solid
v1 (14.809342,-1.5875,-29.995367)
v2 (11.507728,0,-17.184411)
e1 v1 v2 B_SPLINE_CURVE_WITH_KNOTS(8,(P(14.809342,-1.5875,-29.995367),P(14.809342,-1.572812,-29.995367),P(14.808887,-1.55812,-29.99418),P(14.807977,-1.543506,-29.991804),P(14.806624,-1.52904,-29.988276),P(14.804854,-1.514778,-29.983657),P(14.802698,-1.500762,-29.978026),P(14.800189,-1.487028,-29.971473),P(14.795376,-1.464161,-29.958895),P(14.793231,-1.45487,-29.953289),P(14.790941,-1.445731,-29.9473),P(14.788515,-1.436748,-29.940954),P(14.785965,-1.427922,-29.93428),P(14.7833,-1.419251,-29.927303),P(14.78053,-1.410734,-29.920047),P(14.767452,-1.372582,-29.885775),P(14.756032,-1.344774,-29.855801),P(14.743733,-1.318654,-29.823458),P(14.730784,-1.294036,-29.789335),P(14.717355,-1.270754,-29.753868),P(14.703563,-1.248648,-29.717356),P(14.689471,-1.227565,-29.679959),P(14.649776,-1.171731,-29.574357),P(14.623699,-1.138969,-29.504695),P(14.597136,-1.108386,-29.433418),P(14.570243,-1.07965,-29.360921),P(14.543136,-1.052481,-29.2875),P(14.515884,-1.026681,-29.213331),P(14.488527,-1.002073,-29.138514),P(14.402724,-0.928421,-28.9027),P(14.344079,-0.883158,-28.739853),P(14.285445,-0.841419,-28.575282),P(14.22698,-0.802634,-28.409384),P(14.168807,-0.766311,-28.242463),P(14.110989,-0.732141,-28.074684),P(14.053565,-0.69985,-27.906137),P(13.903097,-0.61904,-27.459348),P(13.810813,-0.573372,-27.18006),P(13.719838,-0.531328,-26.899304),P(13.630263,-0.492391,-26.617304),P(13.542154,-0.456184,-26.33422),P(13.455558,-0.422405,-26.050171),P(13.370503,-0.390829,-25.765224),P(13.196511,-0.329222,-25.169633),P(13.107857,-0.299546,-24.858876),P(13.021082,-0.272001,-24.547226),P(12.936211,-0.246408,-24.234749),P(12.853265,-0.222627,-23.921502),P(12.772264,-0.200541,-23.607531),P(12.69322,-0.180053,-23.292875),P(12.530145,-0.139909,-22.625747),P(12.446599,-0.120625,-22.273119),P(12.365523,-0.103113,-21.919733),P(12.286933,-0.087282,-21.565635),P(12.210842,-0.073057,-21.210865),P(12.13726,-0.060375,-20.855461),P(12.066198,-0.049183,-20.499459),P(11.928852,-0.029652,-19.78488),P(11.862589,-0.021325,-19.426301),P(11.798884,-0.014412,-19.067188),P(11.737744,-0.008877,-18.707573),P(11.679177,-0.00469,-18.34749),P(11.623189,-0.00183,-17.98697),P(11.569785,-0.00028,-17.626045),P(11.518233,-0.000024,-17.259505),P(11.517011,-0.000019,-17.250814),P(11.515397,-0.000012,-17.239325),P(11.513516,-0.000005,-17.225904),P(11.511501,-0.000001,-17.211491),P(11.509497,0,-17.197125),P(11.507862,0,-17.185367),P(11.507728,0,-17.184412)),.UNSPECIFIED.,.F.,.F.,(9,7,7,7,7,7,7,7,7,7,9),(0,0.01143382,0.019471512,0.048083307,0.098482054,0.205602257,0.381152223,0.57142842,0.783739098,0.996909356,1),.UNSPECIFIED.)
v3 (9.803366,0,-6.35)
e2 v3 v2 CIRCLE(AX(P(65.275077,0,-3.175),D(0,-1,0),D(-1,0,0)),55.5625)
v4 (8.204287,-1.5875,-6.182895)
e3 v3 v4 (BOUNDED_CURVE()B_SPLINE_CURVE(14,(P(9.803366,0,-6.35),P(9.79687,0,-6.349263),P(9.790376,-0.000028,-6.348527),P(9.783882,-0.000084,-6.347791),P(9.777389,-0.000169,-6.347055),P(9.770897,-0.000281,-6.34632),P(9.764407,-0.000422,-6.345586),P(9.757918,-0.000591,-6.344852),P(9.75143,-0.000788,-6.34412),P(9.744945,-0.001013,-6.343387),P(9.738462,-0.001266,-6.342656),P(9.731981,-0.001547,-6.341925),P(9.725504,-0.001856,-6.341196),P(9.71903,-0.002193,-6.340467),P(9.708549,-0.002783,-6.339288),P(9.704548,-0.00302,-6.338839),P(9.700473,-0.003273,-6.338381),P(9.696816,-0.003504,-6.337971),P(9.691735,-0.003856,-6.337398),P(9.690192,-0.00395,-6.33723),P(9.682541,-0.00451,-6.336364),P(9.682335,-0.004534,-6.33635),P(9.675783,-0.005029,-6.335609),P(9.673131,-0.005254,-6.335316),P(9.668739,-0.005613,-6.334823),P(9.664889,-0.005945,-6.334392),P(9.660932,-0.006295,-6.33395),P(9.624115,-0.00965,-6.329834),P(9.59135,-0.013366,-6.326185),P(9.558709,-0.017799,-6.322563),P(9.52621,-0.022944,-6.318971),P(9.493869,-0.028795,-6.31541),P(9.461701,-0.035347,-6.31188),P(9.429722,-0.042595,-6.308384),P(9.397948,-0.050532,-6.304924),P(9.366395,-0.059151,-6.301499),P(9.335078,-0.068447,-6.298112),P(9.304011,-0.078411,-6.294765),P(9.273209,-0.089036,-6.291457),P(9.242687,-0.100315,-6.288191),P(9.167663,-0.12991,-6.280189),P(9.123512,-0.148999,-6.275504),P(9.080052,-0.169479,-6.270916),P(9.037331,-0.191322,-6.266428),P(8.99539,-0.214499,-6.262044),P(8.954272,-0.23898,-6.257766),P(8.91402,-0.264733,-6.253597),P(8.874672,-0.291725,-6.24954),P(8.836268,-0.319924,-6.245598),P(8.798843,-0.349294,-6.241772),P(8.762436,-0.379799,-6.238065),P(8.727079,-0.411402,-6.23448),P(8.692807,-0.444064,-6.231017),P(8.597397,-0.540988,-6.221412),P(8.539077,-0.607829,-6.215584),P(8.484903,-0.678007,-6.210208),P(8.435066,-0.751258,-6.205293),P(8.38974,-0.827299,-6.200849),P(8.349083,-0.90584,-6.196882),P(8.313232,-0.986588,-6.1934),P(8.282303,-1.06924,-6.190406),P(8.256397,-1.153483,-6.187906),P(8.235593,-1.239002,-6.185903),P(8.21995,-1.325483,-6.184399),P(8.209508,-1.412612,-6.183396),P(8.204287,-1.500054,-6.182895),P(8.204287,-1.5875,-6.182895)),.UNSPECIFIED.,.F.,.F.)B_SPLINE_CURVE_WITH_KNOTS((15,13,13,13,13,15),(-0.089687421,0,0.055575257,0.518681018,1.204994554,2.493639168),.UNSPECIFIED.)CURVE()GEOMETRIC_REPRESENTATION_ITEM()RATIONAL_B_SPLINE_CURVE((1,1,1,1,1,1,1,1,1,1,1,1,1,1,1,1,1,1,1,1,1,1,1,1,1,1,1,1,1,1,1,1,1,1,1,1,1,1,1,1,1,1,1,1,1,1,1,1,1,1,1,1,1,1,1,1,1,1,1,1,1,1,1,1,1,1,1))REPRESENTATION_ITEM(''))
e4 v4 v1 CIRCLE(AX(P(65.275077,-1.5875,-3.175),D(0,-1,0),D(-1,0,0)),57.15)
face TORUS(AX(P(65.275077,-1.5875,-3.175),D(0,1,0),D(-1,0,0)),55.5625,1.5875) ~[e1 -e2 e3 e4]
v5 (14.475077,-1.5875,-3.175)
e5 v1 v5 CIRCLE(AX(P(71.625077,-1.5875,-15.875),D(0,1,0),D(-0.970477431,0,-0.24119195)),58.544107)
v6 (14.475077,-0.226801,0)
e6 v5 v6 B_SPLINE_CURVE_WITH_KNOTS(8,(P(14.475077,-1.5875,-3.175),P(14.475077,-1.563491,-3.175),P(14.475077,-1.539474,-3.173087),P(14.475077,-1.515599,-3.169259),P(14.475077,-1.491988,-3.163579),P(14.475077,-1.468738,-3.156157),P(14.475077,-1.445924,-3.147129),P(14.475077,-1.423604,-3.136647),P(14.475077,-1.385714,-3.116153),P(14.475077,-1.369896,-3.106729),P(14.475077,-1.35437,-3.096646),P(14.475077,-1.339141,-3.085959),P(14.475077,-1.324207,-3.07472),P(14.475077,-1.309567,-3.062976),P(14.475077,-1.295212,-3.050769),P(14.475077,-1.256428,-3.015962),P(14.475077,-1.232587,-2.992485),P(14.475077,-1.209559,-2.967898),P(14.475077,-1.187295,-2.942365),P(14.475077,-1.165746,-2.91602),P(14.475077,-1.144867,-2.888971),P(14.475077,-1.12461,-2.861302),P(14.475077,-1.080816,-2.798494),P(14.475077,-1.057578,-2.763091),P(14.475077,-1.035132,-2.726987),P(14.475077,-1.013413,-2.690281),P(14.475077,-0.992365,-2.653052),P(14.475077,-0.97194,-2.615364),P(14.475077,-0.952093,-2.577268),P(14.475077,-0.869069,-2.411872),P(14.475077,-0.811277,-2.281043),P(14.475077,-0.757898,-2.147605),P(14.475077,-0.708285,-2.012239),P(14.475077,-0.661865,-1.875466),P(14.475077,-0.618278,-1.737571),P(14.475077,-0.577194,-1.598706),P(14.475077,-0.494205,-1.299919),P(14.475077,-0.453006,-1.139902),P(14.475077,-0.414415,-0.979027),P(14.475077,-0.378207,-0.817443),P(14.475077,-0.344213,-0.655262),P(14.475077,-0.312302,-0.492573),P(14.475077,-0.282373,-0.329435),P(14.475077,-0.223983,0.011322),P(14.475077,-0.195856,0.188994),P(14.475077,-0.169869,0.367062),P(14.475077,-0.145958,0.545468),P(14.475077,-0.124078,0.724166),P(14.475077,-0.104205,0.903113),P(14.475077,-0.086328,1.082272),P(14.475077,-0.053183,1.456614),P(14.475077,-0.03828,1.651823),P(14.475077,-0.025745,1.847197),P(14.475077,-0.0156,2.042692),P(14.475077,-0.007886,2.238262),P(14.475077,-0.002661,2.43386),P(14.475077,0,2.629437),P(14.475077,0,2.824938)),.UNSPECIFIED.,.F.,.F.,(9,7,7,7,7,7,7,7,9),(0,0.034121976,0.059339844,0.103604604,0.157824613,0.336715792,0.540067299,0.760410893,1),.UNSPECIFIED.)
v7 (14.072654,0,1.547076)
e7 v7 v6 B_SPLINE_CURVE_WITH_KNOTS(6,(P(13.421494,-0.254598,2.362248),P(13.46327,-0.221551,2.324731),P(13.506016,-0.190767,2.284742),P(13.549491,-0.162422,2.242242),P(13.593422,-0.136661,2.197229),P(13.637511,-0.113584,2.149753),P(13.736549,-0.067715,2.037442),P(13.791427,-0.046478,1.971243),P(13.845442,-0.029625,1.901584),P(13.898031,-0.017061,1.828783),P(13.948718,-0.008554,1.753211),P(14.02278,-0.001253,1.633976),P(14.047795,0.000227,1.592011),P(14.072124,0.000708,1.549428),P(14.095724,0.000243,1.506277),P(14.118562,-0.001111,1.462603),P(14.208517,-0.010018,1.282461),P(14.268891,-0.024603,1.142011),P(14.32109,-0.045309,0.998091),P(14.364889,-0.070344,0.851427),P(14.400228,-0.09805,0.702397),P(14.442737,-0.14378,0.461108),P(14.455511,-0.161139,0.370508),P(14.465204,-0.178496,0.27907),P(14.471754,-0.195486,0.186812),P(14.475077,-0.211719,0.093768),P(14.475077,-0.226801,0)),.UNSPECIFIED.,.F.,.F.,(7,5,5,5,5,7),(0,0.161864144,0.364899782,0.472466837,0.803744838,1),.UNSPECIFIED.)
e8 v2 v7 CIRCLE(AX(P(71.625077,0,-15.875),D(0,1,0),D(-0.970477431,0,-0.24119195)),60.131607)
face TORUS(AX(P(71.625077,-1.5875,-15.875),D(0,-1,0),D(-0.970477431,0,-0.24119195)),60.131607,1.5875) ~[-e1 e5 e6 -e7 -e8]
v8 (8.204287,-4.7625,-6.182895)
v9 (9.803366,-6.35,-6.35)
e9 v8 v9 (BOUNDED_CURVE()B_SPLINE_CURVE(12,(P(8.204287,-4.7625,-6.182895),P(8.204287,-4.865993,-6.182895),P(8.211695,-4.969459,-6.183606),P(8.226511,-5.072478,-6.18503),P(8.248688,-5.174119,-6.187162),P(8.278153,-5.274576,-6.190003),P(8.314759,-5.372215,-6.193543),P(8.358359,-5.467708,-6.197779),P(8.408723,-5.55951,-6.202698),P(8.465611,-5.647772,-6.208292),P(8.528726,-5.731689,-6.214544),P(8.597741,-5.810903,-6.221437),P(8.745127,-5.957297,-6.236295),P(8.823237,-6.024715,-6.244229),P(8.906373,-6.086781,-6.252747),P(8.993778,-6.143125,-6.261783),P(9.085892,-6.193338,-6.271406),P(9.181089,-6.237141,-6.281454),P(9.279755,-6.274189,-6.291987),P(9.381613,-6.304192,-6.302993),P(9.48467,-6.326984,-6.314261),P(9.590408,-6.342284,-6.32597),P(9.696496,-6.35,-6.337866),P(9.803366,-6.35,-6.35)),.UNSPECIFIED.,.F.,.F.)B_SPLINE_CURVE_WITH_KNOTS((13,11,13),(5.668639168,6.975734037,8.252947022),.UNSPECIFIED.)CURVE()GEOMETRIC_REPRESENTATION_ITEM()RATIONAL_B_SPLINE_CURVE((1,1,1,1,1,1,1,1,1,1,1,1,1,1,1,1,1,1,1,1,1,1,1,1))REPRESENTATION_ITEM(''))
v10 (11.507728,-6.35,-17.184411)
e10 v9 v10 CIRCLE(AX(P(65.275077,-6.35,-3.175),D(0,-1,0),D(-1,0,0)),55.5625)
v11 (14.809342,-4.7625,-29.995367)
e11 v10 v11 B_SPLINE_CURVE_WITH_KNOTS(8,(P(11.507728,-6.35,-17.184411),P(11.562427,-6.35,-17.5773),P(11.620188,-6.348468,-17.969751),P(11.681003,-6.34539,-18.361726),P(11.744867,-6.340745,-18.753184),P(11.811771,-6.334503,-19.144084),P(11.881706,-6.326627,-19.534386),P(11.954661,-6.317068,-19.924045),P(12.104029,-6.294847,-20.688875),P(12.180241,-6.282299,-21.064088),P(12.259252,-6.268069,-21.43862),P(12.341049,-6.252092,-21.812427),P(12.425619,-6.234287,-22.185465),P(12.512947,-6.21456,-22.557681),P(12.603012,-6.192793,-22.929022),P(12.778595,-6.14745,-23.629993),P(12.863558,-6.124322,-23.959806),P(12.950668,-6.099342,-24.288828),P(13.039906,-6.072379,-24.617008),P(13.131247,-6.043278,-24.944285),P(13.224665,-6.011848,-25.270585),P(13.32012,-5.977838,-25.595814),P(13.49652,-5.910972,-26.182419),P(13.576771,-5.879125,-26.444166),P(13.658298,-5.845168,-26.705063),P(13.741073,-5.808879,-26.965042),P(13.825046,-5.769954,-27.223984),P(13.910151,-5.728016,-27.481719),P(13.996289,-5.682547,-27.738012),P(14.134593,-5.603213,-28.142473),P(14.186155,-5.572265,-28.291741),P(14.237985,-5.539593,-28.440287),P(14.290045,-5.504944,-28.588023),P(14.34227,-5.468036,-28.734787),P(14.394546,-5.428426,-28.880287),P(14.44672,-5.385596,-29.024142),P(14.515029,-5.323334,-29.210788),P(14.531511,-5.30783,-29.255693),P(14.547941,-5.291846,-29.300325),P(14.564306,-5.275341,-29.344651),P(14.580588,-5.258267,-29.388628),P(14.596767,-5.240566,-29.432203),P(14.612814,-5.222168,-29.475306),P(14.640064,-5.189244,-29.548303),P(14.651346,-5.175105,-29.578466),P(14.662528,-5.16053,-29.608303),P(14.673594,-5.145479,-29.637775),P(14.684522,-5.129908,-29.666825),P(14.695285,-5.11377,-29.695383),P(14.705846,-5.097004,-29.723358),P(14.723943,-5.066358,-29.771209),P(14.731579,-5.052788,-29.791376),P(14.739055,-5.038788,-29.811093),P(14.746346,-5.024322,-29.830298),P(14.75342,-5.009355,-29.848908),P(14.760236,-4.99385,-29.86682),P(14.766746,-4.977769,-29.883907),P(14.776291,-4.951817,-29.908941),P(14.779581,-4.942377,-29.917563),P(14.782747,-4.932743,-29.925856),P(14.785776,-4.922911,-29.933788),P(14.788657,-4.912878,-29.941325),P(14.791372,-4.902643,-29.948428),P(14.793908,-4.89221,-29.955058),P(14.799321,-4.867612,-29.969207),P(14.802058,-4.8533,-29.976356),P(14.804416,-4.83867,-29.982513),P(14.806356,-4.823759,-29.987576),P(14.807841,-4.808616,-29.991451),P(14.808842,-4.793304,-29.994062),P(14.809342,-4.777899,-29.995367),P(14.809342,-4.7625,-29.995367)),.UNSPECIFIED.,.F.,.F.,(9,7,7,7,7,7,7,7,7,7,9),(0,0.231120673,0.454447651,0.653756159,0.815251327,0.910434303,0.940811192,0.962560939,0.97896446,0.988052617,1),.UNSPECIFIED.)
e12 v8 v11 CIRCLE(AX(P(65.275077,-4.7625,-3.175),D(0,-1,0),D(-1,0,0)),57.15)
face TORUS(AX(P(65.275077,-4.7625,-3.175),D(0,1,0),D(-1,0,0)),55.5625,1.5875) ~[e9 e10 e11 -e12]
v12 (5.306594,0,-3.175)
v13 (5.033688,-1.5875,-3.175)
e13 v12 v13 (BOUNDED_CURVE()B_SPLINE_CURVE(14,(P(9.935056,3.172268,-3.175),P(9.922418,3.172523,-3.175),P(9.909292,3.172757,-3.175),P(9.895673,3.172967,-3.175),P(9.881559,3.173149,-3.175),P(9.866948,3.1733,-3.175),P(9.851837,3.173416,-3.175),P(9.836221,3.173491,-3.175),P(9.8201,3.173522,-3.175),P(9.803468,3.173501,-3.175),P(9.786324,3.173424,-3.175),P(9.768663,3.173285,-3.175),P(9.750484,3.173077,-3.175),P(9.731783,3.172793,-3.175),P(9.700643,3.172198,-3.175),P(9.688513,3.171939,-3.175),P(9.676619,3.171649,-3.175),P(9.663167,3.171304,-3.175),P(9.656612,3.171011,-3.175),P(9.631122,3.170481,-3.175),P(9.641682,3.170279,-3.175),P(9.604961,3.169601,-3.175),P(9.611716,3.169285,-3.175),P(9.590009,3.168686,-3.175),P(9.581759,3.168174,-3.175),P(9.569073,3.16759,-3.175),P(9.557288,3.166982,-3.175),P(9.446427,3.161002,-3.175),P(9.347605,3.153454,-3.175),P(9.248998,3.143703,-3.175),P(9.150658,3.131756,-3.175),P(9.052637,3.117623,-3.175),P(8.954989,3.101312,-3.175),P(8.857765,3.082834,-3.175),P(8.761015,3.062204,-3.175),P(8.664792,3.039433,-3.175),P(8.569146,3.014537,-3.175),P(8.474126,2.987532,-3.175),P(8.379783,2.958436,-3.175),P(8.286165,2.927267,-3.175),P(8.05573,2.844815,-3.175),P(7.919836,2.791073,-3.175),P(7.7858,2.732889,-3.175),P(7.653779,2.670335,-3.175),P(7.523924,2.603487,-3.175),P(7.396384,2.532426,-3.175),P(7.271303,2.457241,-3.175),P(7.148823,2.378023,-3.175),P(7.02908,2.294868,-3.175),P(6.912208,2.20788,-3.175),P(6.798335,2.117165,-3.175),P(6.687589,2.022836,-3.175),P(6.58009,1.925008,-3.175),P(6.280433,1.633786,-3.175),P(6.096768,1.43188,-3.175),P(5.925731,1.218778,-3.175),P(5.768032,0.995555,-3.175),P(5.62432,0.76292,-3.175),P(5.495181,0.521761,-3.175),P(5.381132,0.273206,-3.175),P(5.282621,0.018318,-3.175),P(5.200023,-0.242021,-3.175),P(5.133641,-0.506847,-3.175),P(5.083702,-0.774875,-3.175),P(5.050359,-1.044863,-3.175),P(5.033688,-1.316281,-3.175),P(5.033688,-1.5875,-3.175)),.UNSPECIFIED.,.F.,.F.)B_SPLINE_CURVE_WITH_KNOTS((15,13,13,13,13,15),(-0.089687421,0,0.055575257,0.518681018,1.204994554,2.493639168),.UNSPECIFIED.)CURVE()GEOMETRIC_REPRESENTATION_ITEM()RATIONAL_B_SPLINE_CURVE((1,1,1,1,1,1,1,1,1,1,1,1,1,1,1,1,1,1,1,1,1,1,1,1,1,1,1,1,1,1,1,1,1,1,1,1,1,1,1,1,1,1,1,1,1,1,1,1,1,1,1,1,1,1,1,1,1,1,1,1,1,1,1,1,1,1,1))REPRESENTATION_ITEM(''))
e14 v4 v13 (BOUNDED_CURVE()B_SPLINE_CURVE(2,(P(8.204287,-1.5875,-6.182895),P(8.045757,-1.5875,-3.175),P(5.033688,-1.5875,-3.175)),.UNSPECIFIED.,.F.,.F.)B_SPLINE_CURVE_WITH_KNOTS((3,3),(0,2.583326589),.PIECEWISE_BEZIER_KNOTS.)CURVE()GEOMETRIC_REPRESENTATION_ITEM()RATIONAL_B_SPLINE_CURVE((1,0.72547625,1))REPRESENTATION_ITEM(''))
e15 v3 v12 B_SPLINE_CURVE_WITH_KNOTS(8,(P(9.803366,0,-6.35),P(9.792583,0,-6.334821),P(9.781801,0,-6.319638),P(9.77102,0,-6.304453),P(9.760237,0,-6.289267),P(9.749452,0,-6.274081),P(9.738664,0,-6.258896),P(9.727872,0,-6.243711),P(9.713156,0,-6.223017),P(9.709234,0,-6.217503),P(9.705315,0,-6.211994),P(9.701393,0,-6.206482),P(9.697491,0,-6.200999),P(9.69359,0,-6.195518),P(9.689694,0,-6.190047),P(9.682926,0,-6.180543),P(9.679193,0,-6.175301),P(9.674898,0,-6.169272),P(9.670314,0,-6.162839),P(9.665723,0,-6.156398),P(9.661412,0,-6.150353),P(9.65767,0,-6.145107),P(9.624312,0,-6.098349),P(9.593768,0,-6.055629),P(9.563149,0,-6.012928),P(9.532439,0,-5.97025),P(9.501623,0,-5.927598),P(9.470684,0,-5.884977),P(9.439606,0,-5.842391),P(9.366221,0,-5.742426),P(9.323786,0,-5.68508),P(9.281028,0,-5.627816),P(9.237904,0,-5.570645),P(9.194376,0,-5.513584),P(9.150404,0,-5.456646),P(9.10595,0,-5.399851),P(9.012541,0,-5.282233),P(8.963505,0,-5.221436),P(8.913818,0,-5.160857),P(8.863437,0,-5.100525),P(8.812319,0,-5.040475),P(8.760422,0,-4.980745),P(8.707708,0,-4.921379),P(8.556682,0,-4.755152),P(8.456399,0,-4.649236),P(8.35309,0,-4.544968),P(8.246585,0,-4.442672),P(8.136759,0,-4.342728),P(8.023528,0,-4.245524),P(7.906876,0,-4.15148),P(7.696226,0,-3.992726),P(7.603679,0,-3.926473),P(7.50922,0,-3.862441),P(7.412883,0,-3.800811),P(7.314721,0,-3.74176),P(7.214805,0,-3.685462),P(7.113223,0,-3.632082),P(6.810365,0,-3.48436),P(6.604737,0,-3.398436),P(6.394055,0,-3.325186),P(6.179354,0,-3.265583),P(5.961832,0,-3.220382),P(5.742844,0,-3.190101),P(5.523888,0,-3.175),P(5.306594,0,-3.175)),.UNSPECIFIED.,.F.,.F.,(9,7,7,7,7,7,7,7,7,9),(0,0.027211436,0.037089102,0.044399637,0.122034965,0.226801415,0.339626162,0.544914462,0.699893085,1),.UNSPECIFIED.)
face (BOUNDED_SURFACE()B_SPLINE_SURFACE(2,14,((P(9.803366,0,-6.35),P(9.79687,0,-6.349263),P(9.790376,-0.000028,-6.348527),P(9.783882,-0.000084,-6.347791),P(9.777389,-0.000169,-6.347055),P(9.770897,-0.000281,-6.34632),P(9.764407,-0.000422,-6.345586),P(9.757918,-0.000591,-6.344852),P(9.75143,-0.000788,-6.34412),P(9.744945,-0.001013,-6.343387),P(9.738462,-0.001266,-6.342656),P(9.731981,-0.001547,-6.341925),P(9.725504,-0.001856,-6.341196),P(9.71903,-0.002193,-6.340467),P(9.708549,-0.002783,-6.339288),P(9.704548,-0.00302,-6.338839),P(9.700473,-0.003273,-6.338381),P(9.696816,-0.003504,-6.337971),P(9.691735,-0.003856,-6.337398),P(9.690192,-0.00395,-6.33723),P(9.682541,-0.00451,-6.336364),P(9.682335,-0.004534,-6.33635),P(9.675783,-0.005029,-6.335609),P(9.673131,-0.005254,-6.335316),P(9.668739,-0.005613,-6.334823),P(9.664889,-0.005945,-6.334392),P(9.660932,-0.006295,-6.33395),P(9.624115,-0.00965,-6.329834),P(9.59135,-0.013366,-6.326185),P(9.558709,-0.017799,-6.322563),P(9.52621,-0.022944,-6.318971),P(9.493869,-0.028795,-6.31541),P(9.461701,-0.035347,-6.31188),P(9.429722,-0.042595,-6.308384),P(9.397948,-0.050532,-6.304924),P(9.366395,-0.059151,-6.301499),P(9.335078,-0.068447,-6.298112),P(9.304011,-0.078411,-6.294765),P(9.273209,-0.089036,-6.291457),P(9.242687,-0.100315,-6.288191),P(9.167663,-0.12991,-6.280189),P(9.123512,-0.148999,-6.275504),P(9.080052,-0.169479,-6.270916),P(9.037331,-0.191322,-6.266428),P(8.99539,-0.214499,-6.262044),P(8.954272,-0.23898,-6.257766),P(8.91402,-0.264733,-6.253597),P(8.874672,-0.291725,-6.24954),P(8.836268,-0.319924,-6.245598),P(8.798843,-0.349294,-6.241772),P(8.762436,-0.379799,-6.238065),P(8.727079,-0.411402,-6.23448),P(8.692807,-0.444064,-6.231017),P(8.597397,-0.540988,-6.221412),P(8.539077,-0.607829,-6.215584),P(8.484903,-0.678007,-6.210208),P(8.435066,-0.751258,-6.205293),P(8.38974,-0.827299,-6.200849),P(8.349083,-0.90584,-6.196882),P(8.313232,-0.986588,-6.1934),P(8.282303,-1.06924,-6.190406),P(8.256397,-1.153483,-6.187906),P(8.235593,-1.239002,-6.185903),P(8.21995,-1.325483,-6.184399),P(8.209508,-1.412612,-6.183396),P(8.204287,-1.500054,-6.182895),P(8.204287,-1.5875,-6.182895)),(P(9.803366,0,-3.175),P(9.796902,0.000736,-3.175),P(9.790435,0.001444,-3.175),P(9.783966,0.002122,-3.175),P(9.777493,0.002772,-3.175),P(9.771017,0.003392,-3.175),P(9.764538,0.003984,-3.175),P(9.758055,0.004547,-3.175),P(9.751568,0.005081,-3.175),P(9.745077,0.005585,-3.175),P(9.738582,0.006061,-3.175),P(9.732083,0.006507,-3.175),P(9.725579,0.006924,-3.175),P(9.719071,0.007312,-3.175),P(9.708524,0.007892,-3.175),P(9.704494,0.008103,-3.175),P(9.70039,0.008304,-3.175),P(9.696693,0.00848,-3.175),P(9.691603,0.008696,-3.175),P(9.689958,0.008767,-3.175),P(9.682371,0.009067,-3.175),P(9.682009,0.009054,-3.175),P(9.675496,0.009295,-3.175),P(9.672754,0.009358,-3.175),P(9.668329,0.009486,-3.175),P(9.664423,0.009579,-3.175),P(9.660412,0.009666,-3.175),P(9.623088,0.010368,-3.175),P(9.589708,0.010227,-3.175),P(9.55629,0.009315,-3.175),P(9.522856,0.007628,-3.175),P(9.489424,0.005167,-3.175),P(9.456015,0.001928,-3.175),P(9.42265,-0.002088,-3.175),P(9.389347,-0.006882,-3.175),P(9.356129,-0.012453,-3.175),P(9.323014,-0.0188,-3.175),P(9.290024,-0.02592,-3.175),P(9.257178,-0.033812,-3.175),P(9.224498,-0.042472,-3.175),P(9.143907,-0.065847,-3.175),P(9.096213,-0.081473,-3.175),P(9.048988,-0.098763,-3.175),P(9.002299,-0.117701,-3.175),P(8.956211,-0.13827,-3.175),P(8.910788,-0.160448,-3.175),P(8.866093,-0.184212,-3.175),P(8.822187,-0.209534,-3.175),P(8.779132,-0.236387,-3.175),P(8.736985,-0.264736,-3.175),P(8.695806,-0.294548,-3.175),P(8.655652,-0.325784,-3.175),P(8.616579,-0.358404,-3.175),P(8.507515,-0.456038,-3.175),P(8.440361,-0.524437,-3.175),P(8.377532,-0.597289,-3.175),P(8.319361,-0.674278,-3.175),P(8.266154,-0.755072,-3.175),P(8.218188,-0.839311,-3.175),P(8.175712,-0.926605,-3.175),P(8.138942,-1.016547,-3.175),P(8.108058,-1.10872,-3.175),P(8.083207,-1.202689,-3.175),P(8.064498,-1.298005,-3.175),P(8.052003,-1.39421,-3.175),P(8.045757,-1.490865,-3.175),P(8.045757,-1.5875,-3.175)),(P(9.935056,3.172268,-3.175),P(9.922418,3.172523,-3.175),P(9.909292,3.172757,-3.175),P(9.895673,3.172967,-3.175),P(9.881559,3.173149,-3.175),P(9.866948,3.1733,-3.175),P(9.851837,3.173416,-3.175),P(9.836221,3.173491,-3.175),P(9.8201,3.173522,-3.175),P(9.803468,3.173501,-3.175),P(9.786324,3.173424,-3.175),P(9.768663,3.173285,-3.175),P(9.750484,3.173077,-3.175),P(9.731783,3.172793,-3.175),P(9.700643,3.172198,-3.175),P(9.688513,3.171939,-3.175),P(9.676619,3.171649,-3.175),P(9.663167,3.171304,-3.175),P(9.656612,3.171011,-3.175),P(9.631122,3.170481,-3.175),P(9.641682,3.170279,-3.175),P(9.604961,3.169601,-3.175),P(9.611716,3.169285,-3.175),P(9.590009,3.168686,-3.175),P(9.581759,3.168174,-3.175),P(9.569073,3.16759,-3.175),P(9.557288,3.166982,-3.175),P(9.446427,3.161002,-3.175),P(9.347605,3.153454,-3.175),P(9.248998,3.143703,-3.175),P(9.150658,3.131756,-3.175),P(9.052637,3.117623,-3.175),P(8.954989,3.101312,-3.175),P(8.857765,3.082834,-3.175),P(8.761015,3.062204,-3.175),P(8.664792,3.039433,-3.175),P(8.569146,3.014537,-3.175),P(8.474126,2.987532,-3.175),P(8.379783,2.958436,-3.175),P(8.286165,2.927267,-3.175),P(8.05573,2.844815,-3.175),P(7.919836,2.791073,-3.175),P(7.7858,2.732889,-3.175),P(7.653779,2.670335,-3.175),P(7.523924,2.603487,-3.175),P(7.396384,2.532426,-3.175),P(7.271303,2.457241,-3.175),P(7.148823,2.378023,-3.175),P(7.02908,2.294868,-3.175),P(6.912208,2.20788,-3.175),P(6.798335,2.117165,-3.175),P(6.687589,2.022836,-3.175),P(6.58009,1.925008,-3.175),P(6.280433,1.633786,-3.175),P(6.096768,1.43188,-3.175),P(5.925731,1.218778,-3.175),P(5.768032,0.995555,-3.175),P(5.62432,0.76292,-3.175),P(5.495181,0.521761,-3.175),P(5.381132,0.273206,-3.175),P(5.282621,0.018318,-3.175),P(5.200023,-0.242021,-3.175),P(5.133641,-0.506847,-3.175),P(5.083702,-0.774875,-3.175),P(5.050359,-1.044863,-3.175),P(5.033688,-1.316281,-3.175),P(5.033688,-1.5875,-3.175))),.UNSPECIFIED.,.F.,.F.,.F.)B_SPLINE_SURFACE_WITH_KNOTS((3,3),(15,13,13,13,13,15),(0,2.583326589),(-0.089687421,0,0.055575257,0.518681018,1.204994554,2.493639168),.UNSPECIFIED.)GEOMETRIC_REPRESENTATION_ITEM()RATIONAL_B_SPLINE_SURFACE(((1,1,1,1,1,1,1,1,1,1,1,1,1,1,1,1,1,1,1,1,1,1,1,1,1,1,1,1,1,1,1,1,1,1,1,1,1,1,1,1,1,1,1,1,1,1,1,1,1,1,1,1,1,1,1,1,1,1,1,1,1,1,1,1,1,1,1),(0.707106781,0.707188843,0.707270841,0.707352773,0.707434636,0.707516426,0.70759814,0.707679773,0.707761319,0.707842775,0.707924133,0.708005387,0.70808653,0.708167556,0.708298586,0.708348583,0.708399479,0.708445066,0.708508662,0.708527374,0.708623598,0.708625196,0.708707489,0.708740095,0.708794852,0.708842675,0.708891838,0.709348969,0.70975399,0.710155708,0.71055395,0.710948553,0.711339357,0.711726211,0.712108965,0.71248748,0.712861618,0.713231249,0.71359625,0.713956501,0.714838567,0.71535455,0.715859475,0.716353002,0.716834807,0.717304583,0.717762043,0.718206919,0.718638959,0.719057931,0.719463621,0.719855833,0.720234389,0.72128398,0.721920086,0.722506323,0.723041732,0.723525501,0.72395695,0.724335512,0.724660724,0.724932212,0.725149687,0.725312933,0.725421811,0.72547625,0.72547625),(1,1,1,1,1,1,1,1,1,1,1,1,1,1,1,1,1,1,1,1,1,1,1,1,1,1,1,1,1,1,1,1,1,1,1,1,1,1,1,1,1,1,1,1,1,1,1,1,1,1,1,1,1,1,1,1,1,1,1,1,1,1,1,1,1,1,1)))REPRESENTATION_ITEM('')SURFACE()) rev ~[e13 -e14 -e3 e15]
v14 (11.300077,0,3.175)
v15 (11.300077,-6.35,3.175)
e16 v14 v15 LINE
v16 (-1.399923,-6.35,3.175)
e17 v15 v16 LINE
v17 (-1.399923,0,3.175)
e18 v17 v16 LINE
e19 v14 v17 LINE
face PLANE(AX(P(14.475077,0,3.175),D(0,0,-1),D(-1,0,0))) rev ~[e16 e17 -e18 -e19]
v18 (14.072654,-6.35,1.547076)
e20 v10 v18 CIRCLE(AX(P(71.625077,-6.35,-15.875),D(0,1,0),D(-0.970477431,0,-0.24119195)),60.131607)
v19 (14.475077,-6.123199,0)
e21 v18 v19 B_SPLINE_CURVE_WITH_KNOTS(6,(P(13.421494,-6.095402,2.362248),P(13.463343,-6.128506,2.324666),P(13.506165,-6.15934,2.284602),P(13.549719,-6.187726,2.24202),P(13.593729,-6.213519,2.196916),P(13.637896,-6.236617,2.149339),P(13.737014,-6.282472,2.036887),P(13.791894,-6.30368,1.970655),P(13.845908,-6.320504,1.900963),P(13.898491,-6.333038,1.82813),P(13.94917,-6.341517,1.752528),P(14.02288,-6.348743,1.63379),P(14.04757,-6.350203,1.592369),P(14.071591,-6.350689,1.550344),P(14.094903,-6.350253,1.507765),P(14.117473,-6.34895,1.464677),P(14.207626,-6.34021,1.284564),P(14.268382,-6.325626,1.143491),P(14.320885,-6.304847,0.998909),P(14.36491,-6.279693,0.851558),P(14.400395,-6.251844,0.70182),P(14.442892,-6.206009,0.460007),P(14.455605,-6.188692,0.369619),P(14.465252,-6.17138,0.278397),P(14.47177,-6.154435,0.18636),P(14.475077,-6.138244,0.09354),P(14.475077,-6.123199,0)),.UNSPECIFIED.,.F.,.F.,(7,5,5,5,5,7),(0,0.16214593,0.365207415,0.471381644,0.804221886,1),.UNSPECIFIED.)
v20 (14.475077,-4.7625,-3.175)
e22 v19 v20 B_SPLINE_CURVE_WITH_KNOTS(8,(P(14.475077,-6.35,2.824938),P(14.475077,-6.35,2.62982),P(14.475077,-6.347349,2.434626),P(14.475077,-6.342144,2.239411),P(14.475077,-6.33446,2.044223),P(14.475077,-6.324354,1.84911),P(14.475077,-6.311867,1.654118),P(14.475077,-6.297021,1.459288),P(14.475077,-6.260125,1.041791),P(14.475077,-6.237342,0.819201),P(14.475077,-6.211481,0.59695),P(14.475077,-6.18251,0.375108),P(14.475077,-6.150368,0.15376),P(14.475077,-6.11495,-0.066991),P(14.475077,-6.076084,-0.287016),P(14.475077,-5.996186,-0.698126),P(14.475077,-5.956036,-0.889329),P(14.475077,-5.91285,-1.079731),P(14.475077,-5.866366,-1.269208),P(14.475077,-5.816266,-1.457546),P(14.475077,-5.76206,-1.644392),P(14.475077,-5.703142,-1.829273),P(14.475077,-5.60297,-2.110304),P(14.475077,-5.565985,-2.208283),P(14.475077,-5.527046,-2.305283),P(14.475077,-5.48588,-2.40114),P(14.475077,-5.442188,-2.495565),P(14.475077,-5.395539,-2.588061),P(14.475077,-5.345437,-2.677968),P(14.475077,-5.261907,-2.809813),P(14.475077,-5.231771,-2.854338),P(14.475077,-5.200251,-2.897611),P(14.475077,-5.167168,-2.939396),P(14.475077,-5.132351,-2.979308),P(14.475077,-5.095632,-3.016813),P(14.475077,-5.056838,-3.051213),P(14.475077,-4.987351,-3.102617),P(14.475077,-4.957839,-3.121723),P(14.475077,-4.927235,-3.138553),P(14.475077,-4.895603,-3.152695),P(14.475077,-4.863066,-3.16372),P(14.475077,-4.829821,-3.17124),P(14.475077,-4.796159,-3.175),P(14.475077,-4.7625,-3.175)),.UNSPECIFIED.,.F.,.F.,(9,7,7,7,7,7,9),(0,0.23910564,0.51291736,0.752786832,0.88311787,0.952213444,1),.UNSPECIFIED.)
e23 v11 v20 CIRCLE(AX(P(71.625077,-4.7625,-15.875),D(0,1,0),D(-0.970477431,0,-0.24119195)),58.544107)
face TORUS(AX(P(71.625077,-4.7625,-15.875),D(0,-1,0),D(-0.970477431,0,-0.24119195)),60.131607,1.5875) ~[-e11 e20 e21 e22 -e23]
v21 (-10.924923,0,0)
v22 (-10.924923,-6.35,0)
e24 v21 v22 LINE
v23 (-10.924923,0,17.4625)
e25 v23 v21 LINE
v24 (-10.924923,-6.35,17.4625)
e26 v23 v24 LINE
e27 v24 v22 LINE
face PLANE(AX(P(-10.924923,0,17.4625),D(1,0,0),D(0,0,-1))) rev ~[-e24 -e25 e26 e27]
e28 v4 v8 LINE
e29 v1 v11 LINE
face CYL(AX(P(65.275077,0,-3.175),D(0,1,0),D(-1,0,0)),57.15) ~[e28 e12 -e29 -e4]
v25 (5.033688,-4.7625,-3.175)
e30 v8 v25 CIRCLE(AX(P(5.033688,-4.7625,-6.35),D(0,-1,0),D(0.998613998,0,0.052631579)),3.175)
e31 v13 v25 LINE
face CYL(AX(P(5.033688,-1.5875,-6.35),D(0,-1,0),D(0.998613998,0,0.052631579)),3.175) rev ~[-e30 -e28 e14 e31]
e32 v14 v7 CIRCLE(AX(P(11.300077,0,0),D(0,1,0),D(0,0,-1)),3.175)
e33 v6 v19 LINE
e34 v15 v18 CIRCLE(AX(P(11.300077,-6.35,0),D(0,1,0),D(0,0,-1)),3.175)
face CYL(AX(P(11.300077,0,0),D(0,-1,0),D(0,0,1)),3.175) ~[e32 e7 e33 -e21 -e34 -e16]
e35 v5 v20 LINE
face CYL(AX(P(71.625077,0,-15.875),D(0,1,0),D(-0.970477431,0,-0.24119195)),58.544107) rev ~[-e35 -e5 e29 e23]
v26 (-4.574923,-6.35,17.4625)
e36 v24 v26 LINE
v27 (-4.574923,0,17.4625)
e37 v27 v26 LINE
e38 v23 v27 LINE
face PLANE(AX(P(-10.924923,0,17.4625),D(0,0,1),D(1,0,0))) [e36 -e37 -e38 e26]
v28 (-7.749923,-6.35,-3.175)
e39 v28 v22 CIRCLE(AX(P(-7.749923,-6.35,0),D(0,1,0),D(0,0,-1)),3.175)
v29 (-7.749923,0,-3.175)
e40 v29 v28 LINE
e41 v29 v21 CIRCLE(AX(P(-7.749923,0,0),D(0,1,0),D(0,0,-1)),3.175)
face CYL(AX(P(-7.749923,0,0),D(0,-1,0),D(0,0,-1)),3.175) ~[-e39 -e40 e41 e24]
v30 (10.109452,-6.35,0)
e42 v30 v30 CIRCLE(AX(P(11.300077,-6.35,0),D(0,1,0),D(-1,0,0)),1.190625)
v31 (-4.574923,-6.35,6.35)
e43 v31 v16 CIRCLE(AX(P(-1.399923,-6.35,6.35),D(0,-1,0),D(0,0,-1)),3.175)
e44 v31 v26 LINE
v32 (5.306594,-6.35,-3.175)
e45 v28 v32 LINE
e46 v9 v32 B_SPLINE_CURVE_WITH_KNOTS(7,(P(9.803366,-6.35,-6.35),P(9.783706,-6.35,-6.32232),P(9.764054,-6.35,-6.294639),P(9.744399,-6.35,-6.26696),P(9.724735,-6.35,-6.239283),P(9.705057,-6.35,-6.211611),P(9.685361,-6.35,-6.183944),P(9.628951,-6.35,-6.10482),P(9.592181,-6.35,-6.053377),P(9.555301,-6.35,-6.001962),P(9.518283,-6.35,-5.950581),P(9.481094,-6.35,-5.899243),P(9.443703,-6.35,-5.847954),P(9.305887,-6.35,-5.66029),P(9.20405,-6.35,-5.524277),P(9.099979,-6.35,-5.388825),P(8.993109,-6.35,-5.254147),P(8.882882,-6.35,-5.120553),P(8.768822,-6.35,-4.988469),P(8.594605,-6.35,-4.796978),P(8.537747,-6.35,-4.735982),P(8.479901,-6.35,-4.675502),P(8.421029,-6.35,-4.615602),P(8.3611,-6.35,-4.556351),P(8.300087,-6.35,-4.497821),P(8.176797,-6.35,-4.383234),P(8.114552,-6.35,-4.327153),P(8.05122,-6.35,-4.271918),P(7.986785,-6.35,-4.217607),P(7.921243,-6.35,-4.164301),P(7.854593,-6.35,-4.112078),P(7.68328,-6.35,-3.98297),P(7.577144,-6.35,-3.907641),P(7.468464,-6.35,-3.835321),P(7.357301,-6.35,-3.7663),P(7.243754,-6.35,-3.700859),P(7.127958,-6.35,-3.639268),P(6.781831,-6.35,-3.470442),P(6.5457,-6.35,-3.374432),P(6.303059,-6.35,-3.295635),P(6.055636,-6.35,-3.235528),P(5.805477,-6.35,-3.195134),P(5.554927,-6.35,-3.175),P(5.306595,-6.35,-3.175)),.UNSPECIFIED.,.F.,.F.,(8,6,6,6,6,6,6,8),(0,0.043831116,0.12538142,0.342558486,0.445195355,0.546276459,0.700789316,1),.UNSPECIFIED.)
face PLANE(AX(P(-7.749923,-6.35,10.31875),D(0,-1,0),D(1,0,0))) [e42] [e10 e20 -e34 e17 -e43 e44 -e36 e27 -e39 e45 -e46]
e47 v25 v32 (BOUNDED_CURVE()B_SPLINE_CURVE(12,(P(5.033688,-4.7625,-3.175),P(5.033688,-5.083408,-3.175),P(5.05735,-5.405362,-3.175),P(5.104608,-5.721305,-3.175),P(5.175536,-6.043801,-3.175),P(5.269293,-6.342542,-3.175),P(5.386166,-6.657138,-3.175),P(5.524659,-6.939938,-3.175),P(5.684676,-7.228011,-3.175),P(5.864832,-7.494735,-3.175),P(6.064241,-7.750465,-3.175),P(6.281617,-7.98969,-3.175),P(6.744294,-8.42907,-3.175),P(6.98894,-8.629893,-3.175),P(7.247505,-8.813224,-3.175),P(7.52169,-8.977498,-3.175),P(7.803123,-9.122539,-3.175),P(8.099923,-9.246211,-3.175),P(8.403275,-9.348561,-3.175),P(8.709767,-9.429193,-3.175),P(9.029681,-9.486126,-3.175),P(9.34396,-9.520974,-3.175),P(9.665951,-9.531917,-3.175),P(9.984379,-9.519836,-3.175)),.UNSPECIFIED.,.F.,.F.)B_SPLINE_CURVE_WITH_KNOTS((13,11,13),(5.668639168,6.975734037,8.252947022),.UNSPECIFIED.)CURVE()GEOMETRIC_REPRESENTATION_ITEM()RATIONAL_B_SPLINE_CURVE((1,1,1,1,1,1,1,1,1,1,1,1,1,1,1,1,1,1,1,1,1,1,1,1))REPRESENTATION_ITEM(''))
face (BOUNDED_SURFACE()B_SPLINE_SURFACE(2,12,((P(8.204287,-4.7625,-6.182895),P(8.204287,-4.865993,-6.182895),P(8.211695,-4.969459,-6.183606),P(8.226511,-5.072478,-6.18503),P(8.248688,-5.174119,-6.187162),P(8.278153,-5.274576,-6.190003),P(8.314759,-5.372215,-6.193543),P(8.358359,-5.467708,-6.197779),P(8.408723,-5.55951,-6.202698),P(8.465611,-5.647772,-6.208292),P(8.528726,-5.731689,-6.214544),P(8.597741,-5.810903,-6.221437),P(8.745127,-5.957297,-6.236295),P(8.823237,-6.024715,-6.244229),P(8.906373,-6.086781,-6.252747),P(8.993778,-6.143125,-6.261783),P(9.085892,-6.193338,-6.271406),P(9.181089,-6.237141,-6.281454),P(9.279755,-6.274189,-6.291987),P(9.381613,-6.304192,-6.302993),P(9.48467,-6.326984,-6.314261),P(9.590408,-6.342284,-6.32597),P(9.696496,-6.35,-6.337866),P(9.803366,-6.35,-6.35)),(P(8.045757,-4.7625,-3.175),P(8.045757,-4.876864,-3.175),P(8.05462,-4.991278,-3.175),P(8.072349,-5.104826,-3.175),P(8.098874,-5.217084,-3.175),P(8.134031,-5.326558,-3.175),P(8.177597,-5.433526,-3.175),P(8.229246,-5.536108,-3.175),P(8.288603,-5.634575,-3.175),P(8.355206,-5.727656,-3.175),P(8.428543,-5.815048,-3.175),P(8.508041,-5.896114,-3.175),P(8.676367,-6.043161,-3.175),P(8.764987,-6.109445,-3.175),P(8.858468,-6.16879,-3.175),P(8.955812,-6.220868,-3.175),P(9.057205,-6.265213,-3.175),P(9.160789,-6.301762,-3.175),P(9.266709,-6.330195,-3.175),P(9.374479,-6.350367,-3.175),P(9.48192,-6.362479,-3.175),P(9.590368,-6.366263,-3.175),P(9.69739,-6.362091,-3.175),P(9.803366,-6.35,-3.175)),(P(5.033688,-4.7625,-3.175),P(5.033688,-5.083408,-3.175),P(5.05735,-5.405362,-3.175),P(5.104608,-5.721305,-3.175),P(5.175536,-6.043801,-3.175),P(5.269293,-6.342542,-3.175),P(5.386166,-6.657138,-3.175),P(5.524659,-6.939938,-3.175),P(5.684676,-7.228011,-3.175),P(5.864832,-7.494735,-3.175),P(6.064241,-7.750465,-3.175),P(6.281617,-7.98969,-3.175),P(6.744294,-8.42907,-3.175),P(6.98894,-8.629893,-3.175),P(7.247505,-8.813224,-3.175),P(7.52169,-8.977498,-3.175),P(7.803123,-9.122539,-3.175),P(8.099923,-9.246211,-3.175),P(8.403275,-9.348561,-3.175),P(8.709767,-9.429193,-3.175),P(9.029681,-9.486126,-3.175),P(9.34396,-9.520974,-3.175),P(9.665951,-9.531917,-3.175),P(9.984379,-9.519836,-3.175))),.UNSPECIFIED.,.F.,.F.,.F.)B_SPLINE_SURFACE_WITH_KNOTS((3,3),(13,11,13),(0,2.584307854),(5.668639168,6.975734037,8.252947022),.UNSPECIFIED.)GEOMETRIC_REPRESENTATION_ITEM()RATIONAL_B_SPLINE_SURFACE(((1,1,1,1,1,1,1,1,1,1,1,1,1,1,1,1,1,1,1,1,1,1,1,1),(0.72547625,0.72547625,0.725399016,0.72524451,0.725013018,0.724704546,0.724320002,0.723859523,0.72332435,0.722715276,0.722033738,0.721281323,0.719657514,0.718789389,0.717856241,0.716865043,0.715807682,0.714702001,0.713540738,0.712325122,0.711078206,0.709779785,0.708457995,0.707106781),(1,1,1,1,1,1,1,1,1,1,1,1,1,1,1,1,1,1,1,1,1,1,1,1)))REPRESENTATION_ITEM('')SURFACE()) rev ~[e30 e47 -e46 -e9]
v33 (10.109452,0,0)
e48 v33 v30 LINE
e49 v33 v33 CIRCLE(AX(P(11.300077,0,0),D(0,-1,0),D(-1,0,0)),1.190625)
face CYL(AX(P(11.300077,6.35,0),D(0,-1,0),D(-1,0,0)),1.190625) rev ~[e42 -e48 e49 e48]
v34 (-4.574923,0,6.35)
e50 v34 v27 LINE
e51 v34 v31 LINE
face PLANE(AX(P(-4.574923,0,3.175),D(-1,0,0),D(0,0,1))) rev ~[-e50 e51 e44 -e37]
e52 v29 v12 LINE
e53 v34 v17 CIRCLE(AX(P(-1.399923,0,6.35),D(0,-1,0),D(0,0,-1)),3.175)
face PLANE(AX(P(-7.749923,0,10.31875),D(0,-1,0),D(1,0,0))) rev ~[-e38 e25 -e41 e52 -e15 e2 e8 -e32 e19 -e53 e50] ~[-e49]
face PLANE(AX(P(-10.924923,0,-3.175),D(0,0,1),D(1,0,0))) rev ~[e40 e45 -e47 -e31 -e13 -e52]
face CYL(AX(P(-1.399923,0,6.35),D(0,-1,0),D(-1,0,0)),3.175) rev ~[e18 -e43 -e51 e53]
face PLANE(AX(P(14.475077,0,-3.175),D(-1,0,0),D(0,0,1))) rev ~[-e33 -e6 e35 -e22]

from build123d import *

# Parameters (mm, degrees)
F0_W     = 6.35
F0_H     = 14.2875
F1_DEPTH = 6.35
F2_D     = 2.38125
F2_DEPTH = 6.35
F2_TIP   = 0.7153996745
F3_R     = 1.5875
F4_R     = 3.175


with BuildPart() as f1:
    # F0 (on Front) → F1 (new body)
    with BuildSketch(Plane.XZ):
        with Locations((-7.7499226887, 10.31875)):
            Rectangle(F0_W, F0_H)
        Polygon((14.4750773113, -3.175), (14.4750773113, 3.175), (-4.5749226887, 3.175), (-10.9249226887, 3.175), (-10.9249226887, -3.175), (8.1250773113, -3.175), align=None)
        with BuildLine():
            ThreePointArc((14.8093424829, -29.9953674142), (13.0855162795, -16.6045849499), (14.4750773113, -3.175))
            Line((14.4750773113, -3.175), (8.1250773113, -3.175))
            ThreePointArc((8.1250773113, -3.175), (9.821316188, -16.995379057), (14.8093424829, -29.9953674142))
        make_face()
    extrude(amount=F1_DEPTH)

    # F2
    with Locations(Plane(origin=(0, 0, 0), x_dir=(1, 0, 0), z_dir=(0, 1, 0))):
        with Locations((11.3000773113, 0)):
            Hole(F2_D / 2, depth=F2_DEPTH)
            with Locations((0, 0, -(F2_DEPTH + F2_TIP / 2))):  # 118° drill point
                Cone(0, F2_D / 2, F2_TIP, mode=Mode.SUBTRACT)

    # F3
    f3_edges = [f1.edges().sort_by_distance(p)[0] for p in [
        (13.085516, -6.35, -16.604585),
        (9.821316, -6.35, -16.995379),
        (13.085516, 0, -16.604585),
        (9.821316, 0, -16.995379),
    ]]
    fillet(f3_edges, radius=F3_R)

    # F4
    f4_edges = [f1.edges().sort_by_distance(p)[0] for p in [
        (14.475077, -3.175, 3.175),
        (-10.924923, -3.175, -3.175),
        (-4.574923, -3.175, 3.175),
        (8.125077, -3.175, -3.175),
    ]]
    fillet(f4_edges, radius=F4_R)


solid = f1.part
